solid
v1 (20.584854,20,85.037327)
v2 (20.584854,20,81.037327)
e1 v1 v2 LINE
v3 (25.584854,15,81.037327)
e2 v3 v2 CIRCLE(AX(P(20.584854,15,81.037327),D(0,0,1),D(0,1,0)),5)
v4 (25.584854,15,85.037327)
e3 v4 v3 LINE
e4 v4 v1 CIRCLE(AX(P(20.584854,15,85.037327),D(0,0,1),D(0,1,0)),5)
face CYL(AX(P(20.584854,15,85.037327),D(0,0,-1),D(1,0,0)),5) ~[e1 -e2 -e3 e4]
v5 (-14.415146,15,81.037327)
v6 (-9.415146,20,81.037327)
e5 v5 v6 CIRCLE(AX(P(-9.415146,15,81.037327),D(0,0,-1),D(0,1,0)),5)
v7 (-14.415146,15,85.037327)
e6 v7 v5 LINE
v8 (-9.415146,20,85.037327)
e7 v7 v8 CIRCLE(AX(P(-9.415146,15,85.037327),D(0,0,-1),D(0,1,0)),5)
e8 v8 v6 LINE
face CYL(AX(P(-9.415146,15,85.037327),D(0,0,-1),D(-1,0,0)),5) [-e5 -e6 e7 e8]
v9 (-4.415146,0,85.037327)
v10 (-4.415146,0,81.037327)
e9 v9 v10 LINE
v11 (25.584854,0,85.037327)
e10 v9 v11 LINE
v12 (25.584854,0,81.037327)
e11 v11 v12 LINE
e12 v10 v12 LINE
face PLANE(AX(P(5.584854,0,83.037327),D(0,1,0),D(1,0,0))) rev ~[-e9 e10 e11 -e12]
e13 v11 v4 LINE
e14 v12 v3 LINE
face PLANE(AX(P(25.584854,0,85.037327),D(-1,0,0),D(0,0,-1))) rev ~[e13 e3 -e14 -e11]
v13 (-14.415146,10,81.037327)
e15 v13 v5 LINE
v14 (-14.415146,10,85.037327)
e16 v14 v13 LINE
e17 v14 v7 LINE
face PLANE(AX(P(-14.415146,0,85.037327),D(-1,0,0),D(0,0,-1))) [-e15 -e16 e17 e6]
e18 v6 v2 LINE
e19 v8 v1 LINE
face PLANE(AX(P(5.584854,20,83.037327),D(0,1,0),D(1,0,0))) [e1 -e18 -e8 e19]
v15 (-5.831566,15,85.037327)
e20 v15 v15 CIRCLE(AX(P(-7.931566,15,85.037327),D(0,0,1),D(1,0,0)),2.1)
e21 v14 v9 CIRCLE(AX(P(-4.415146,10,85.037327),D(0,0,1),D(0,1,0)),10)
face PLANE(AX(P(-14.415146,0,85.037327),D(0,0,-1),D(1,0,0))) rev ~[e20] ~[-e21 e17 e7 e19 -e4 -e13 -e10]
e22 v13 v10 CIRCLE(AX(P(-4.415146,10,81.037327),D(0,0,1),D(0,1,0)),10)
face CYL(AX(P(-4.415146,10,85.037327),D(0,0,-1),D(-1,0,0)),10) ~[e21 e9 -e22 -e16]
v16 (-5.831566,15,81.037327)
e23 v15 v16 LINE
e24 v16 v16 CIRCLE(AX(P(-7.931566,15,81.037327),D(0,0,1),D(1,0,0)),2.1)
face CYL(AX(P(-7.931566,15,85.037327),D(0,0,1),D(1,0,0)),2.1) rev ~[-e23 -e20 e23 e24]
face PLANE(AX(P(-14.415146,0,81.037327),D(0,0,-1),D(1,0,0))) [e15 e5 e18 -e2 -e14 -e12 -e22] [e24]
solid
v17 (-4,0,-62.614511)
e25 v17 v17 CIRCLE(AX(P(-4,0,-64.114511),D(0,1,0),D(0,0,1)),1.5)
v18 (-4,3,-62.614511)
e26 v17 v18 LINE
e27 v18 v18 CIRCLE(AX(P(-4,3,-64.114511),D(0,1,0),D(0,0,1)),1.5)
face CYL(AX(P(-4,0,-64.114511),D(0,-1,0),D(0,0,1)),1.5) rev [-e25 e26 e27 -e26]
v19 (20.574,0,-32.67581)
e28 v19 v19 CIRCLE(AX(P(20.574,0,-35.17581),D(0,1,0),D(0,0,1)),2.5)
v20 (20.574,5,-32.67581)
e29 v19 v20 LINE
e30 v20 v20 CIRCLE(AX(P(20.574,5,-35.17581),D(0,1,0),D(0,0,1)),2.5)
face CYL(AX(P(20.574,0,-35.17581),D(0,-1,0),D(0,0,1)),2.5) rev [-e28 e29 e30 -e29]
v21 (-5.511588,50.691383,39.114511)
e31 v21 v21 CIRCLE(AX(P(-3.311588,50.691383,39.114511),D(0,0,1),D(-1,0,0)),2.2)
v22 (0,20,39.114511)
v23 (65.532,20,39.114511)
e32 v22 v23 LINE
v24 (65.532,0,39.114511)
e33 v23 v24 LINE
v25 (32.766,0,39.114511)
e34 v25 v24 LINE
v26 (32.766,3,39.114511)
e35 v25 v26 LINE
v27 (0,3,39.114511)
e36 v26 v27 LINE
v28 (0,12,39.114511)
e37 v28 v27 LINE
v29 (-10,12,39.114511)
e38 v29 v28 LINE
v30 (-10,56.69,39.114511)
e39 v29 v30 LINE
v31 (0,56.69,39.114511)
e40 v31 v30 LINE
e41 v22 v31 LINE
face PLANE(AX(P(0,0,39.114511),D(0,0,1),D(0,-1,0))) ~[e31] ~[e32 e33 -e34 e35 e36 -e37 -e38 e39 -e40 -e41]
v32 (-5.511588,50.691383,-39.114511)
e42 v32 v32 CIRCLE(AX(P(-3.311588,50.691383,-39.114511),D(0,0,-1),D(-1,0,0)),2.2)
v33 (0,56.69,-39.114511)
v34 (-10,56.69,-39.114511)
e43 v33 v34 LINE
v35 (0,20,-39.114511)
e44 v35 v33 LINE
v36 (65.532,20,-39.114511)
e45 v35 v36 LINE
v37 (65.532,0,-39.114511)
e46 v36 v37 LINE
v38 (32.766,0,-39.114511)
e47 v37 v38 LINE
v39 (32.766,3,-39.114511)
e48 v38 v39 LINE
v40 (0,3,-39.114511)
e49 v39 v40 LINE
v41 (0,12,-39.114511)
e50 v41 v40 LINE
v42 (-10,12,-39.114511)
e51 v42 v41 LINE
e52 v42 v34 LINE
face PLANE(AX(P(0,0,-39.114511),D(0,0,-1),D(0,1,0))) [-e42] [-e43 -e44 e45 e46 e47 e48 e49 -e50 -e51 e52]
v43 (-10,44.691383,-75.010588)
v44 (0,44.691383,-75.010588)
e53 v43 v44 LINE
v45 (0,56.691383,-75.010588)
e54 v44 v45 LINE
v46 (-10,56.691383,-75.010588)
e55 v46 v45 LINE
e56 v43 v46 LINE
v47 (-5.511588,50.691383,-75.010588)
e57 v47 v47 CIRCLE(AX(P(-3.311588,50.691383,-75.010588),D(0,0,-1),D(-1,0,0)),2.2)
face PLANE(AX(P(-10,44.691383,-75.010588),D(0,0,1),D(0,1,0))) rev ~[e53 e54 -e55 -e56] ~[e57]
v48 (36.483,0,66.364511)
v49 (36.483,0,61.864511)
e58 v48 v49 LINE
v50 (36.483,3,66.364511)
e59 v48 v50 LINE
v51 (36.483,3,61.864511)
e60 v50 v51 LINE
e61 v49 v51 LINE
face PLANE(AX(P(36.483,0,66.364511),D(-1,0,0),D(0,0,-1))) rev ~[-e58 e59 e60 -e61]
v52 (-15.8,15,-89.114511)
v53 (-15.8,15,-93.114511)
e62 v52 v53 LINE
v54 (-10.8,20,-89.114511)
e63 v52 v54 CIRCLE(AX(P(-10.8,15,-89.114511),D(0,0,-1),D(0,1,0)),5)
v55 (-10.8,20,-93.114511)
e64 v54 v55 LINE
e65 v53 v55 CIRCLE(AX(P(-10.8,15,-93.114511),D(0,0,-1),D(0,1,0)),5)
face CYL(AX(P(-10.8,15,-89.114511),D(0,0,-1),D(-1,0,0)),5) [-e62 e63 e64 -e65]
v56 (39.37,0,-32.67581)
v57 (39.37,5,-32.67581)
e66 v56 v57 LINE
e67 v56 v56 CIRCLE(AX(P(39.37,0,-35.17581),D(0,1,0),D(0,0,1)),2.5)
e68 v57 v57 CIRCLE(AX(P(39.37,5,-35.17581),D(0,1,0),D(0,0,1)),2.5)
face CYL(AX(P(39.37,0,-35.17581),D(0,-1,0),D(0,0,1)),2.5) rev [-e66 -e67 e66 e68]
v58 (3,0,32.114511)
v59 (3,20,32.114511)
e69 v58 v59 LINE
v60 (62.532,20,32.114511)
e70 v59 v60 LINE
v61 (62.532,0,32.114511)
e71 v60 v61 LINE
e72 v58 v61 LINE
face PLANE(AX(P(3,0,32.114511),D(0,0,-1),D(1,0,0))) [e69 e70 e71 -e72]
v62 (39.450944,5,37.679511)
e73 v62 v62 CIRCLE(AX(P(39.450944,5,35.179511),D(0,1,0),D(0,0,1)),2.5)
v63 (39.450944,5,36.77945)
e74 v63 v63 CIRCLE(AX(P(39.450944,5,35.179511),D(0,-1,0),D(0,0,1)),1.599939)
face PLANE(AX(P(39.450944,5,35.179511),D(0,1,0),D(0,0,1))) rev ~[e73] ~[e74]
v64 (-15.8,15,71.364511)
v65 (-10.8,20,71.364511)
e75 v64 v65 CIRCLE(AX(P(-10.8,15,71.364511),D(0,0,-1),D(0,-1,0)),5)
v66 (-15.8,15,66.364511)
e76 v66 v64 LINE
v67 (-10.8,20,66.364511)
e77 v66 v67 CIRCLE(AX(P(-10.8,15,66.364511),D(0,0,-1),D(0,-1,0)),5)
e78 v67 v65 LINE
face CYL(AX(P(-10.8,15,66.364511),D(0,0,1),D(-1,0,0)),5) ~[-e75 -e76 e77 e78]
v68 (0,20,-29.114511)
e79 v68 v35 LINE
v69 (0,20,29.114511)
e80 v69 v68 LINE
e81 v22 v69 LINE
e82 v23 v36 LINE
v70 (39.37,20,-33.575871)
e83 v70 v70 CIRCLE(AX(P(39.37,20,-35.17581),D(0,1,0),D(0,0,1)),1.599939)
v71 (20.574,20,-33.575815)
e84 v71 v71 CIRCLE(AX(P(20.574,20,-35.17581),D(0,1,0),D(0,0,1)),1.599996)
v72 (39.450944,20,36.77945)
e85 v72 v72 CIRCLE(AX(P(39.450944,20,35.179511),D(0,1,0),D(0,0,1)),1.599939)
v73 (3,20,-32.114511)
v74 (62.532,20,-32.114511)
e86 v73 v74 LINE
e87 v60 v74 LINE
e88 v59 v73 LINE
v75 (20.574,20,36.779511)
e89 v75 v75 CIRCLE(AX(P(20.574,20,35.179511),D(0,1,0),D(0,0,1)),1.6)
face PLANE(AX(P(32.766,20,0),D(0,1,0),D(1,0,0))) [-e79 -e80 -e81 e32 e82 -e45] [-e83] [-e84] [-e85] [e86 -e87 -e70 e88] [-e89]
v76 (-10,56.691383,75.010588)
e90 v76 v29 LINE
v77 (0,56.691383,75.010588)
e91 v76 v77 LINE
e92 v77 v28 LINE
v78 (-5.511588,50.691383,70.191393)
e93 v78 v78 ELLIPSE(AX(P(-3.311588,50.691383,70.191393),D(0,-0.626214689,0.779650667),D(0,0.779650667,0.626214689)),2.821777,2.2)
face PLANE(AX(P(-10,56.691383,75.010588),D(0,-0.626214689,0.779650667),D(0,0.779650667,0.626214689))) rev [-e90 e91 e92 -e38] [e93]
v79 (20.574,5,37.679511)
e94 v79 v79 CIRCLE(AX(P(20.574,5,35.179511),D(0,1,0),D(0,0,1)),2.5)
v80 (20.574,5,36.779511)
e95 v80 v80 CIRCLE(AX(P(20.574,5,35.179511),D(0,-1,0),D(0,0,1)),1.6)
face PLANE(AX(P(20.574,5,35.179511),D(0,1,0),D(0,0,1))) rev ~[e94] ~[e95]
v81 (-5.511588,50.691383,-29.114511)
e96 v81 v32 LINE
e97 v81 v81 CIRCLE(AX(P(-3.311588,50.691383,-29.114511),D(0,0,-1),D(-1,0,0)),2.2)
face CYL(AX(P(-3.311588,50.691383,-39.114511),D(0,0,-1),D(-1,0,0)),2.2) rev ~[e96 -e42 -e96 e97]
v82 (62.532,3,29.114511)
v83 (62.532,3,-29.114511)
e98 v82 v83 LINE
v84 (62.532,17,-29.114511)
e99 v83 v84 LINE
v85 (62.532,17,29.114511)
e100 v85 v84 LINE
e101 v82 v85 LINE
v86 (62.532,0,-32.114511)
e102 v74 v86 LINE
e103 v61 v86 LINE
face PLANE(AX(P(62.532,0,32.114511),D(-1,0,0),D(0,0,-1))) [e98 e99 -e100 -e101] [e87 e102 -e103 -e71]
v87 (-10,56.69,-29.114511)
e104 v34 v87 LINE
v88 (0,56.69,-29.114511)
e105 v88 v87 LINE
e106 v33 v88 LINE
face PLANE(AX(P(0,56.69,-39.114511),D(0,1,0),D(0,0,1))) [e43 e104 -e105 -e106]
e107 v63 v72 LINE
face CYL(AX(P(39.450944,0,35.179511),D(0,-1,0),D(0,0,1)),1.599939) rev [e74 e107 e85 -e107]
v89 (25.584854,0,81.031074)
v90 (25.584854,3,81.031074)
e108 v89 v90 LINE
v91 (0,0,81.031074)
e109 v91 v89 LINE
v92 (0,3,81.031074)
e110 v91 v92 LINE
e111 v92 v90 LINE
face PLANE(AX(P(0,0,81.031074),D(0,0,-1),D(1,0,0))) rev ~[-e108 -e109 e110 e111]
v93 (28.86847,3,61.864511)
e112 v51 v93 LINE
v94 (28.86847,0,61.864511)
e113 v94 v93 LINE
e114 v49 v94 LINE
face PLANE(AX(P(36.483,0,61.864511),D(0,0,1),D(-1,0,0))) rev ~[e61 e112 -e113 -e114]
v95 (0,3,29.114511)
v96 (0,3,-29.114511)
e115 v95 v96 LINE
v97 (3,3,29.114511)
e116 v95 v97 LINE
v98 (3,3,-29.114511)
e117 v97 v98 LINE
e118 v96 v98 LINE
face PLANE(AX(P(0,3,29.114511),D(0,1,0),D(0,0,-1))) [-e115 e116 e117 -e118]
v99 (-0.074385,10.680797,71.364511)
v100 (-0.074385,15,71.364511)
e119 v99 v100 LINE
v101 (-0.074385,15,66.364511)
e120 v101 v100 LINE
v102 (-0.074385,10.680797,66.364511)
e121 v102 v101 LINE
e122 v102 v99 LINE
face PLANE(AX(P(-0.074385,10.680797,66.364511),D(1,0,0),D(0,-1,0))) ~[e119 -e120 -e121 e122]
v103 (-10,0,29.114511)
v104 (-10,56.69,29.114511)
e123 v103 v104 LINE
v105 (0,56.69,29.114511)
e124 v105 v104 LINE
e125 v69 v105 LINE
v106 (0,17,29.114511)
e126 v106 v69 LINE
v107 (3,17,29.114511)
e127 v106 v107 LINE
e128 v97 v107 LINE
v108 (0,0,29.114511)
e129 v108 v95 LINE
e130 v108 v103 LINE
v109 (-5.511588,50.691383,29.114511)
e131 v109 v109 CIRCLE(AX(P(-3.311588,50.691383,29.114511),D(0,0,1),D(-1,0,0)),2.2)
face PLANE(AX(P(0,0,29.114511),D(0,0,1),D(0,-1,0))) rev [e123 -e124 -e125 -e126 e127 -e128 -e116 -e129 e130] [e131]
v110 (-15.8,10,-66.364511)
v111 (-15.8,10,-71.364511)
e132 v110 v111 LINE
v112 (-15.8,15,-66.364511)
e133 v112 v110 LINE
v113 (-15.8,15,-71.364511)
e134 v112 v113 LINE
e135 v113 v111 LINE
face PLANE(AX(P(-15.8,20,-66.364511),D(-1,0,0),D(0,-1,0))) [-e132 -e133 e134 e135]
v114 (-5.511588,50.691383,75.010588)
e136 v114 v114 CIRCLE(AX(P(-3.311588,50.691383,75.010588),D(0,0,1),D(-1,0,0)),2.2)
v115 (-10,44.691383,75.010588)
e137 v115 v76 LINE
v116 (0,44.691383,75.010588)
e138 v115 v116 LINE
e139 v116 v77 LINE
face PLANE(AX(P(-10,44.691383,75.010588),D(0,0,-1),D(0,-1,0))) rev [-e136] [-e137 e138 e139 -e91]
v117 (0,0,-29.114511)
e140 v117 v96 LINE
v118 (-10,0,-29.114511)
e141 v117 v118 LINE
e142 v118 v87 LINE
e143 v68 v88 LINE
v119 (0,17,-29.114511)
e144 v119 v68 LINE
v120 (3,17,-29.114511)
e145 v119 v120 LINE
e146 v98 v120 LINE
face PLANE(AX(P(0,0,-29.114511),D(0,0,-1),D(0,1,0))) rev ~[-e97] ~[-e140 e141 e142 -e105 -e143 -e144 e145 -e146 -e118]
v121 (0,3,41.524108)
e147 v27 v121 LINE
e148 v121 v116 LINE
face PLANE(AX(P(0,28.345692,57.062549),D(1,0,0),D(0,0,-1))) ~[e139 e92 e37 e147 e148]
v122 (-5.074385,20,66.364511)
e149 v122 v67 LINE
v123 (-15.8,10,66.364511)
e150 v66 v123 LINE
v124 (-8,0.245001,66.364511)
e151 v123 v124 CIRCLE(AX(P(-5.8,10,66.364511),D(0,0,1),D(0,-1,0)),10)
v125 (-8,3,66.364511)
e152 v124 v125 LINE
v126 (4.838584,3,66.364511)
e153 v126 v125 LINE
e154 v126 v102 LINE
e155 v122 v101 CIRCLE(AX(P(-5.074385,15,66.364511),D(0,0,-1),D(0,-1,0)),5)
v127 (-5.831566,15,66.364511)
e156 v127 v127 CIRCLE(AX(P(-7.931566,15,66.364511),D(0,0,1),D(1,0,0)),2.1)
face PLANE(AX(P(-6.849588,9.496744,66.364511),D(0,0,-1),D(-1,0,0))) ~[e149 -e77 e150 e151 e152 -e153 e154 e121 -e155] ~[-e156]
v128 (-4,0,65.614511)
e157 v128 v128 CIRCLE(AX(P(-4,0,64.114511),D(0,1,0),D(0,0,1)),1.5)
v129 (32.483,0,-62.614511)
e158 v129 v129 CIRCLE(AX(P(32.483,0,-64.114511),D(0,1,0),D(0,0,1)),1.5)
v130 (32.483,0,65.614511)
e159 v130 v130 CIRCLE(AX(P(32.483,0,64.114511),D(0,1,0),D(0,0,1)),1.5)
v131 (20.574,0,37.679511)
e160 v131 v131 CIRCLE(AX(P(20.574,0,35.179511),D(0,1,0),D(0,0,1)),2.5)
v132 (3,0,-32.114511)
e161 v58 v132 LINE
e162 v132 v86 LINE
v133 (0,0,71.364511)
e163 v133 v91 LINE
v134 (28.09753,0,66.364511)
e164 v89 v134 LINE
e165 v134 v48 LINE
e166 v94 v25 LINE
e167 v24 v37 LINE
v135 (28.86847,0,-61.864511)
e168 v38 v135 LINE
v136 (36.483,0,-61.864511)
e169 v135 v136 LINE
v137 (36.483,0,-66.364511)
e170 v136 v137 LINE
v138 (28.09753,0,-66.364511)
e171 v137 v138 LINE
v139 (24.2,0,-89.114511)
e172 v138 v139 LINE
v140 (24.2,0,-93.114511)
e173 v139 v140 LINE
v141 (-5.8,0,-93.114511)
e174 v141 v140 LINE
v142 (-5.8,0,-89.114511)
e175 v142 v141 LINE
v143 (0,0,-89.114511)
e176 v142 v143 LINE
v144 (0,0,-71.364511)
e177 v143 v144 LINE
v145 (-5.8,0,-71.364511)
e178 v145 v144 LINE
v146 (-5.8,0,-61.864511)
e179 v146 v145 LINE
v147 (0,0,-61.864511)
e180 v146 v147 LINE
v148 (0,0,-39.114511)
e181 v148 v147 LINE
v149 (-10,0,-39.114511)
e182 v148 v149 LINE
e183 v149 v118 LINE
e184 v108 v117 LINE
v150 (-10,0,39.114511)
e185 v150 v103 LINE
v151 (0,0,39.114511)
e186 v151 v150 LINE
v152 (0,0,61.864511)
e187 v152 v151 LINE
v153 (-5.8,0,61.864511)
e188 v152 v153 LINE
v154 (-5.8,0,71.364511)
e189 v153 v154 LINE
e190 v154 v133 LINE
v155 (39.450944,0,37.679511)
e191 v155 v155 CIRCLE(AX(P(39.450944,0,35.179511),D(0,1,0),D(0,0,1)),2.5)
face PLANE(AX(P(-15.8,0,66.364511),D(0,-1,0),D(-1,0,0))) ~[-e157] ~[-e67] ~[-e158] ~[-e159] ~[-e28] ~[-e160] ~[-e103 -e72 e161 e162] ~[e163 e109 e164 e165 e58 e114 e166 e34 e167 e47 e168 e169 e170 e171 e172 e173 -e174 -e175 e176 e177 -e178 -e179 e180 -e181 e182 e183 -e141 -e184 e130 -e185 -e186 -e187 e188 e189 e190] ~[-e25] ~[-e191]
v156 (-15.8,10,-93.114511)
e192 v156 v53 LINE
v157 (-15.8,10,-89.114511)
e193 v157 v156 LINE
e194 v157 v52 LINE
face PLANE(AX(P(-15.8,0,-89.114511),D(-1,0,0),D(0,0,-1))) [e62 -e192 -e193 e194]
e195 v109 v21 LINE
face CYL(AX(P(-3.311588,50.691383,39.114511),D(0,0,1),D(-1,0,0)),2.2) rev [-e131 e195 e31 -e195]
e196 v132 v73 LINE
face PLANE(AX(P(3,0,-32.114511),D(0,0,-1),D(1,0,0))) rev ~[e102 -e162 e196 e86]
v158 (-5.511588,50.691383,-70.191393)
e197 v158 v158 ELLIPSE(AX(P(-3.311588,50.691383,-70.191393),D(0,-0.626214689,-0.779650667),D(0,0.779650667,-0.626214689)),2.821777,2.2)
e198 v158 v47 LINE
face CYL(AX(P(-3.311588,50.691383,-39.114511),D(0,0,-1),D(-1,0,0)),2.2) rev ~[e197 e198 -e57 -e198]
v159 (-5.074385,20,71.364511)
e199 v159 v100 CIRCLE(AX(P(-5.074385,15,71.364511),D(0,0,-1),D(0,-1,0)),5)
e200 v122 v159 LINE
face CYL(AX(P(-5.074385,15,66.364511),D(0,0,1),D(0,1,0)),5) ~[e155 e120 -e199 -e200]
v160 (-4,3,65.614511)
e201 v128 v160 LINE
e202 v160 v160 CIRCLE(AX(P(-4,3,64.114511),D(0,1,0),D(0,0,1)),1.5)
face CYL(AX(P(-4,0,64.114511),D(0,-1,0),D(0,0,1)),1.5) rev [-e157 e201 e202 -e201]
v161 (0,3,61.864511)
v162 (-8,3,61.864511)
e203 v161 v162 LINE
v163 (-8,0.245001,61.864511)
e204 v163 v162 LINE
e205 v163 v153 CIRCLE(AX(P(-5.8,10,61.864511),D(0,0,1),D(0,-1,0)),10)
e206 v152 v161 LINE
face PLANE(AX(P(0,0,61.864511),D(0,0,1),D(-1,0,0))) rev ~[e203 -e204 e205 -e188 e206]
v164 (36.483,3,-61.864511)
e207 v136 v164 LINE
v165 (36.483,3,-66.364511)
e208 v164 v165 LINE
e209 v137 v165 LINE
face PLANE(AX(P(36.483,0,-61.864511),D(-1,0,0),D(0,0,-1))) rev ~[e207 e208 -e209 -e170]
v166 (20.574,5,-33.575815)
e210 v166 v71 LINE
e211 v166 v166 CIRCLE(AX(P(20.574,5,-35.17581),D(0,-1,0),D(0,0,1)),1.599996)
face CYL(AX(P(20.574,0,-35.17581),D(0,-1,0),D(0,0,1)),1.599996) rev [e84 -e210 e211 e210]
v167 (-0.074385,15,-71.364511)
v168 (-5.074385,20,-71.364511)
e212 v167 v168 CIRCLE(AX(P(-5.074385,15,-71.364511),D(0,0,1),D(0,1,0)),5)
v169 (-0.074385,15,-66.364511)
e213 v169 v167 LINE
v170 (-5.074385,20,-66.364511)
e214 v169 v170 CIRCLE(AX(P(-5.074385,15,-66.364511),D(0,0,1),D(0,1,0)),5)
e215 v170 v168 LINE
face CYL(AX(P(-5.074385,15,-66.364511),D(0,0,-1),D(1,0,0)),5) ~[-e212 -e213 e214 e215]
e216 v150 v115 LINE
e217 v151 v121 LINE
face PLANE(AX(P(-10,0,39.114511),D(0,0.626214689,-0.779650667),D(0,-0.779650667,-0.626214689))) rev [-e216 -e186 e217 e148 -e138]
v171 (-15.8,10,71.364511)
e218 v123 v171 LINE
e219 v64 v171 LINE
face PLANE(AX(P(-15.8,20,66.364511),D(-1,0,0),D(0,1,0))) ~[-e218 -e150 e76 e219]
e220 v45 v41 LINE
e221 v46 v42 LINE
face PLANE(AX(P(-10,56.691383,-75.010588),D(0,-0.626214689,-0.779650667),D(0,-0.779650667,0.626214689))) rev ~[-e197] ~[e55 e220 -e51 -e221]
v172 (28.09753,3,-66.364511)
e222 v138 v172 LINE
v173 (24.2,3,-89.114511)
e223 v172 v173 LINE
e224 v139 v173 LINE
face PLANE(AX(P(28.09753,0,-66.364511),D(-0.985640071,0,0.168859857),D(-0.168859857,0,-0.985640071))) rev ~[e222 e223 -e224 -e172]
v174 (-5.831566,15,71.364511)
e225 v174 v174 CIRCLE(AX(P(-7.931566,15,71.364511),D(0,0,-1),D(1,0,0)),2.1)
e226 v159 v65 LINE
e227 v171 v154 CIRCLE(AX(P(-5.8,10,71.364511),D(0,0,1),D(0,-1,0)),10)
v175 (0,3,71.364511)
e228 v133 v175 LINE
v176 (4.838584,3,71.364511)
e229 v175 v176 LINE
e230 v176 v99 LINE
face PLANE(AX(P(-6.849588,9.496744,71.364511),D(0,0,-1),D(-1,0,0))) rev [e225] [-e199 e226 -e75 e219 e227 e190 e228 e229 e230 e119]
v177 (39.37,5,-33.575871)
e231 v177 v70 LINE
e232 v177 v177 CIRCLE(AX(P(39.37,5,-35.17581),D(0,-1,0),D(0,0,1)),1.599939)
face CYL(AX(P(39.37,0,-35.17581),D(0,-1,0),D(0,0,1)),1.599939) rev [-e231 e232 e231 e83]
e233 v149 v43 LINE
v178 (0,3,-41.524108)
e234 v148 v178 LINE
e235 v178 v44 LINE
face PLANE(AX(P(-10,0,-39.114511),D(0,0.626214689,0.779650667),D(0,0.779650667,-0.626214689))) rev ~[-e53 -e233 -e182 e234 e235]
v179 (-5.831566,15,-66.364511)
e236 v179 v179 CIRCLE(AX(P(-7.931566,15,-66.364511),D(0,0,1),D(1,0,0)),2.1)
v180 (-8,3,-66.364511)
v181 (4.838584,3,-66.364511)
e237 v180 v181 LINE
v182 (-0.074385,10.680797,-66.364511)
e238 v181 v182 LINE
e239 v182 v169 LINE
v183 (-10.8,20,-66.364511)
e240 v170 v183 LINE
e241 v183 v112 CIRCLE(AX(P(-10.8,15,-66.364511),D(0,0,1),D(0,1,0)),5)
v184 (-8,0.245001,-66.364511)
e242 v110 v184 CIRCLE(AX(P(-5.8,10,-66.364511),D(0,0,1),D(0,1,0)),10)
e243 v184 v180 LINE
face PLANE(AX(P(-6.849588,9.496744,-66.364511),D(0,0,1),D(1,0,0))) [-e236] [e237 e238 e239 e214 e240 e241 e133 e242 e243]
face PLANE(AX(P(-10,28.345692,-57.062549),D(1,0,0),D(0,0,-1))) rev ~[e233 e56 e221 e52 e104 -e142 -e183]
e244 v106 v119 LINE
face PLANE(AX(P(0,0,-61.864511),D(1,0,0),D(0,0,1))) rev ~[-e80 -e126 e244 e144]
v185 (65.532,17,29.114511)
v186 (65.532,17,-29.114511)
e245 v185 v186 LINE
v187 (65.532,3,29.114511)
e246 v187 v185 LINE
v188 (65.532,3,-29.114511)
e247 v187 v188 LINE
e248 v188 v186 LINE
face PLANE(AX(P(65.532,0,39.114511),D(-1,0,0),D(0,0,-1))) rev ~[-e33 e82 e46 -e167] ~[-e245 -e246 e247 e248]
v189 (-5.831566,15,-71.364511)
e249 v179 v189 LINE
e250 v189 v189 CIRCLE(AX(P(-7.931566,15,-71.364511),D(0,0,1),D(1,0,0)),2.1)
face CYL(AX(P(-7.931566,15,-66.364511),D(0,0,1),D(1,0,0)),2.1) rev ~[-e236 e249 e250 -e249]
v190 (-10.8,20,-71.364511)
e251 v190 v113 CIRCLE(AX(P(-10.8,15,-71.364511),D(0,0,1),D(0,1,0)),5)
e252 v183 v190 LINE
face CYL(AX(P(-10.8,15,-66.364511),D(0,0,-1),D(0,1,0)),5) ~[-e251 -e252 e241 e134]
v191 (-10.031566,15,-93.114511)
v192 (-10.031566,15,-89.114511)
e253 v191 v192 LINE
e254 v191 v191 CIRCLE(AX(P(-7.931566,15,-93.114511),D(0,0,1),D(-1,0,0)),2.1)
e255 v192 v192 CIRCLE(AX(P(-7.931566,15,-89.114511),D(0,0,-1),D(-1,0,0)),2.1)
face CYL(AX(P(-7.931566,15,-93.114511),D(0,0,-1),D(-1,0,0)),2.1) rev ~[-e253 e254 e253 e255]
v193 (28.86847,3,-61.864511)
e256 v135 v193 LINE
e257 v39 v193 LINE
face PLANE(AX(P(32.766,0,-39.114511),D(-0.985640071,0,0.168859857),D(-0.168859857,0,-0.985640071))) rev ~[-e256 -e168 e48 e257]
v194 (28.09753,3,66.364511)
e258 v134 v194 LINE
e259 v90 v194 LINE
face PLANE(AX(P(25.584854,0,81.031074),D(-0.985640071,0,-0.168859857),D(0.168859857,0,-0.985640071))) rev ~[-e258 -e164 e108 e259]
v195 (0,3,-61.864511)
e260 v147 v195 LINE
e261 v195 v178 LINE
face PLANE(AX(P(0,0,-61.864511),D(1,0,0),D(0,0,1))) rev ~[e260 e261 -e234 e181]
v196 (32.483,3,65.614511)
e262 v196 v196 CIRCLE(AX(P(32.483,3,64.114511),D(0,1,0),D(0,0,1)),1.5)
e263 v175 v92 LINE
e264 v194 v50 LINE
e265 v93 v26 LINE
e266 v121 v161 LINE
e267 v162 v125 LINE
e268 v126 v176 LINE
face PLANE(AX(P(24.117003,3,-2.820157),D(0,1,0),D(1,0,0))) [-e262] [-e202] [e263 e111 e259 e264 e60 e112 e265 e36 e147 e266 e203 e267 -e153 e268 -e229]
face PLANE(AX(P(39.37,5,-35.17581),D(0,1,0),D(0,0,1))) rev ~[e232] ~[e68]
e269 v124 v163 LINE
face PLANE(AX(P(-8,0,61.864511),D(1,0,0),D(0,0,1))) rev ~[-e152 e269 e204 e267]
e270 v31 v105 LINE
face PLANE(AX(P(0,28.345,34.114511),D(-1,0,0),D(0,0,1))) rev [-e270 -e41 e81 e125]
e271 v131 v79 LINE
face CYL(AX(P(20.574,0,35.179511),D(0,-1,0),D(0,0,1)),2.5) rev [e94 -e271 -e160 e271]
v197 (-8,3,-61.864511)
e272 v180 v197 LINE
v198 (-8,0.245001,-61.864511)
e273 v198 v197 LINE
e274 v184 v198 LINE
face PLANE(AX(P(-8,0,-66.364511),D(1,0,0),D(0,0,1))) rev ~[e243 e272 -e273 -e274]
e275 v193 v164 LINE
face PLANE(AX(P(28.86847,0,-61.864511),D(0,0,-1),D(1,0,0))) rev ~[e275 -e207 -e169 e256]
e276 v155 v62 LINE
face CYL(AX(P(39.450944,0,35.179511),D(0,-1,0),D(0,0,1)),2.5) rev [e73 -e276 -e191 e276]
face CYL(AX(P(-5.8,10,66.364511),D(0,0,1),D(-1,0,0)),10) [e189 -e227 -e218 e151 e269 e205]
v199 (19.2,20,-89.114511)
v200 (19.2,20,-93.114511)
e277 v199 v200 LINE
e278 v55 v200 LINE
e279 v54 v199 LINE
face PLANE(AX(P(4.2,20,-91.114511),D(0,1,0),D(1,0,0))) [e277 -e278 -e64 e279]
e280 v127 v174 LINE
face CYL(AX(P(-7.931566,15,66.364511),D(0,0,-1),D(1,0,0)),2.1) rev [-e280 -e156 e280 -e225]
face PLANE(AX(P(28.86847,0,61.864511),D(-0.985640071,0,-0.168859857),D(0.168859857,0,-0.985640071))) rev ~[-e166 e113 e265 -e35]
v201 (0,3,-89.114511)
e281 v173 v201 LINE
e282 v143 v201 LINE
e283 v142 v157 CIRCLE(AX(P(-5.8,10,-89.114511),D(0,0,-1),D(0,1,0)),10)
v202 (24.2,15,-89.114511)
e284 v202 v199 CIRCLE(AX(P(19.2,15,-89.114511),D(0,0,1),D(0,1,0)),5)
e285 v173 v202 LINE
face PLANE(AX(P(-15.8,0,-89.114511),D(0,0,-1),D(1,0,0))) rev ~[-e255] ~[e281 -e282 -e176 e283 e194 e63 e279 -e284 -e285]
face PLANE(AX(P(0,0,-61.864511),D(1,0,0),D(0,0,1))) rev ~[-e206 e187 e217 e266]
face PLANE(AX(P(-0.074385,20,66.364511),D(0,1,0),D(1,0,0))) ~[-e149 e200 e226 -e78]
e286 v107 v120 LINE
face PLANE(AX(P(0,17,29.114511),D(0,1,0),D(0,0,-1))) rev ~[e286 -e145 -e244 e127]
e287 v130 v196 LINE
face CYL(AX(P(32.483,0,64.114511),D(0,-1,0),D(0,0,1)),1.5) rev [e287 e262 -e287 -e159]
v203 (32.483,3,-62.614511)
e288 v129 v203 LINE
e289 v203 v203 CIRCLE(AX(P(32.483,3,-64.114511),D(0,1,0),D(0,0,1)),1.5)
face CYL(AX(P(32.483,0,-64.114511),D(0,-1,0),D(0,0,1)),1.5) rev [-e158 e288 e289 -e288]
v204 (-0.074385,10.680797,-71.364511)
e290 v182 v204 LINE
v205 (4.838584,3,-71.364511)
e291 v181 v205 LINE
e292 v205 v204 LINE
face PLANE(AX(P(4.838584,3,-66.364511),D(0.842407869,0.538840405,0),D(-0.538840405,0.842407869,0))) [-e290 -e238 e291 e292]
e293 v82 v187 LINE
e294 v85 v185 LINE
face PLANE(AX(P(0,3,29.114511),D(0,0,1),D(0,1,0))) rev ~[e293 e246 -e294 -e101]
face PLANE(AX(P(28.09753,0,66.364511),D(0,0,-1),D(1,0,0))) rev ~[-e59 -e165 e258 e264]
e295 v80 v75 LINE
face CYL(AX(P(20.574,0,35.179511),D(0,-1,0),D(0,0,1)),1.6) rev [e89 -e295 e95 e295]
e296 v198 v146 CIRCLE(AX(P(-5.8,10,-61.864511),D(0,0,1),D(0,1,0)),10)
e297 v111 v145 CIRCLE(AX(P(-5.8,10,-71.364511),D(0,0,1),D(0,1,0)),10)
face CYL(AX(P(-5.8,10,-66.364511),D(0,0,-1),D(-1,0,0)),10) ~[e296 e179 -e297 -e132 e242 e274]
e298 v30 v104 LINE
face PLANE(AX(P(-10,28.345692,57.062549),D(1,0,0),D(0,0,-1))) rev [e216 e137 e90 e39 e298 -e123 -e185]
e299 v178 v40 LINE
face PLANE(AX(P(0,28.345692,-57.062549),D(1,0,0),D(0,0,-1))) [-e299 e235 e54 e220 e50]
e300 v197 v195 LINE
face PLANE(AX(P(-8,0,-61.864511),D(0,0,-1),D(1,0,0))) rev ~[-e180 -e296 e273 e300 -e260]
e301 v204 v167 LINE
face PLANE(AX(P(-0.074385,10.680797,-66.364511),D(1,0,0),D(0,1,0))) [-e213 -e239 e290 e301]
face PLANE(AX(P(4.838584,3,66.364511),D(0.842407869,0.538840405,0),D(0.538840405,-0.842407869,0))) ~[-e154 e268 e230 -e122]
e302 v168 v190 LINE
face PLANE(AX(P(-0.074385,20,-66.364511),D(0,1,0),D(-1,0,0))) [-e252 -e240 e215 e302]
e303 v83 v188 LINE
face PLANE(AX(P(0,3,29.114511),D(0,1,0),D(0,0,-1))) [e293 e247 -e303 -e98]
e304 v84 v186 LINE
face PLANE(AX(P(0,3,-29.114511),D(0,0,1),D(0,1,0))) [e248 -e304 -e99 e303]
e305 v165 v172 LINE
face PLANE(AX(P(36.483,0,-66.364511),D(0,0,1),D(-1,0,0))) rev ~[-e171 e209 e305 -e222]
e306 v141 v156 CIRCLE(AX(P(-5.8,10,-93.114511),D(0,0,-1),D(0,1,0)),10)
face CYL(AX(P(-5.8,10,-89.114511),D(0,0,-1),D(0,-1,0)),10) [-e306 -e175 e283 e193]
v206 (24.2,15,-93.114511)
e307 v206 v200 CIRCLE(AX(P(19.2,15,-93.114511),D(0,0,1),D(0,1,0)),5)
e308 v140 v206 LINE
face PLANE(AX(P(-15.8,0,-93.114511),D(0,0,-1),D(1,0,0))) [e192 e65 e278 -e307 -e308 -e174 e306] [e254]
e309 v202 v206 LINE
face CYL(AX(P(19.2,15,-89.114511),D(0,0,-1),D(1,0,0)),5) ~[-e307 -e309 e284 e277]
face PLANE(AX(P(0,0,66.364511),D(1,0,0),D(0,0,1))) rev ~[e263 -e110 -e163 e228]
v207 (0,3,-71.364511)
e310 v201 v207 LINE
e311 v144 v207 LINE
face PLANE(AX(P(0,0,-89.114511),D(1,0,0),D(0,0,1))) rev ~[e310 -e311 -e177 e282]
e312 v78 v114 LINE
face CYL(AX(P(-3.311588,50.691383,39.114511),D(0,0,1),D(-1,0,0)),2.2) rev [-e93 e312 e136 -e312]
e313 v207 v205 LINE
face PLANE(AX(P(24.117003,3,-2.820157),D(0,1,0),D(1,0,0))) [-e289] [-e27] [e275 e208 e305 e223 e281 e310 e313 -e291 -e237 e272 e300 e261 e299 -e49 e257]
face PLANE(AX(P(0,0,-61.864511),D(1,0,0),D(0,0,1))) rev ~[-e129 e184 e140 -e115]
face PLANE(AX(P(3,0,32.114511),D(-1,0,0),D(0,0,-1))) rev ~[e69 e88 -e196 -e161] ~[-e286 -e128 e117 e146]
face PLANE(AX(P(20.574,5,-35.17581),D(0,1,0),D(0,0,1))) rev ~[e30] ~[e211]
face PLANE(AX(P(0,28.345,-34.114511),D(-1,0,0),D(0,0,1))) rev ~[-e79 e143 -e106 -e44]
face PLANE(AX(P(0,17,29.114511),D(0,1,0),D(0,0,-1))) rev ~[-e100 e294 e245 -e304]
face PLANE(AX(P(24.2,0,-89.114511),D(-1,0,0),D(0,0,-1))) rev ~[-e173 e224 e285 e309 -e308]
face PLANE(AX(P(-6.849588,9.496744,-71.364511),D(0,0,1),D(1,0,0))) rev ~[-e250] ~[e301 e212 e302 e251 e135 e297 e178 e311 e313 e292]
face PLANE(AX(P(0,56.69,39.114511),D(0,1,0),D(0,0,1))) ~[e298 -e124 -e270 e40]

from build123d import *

# Parameters (mm, degrees)
SKETCH1_R            = 1.6
SKETCH1_R_2          = 1.599939077
SKETCH1_W            = 59.532
SKETCH1_H            = 64.229021166
SKETCH1_R_3          = 1.599995589
SKETCH1_R_4          = 1.5
BOSS_EXTRUDE1_DEPTH  = 3
SKETCH2_W            = 40
SKETCH2_H            = 4
BOSS_EXTRUDE2_DEPTH  = 20
FILLET2_R            = 5
FILLET3_R            = 10
SKETCH1_8_W          = 65.532
SKETCH1_8_H          = 78.229021166
SKETCH1_8_R          = 1.599939077
SKETCH1_8_R_2        = 1.6
SKETCH1_8_R_3        = 1.599995589
SKETCH1_8_W_2        = 59.532
SKETCH1_8_H_2        = 64.229021166
BOSS_EXTRUDE3_DEPTH  = 20
SKETCH5_R            = 2.5
CUT_EXTRUDE2_DEPTH   = 5
SKETCH7_W            = 58.229021166
SKETCH7_H            = 14
CUT_EXTRUDE3_DEPTH   = 116.606034034
SKETCH8_R            = 2.1
CUT_EXTRUDE4_DEPTH   = 211
FILLET4_R            = 10
FILLET5_R            = 5
SKETCH9_W            = 10
SKETCH9_H            = 56.69
BOSS_EXTRUDE4_DEPTH  = 10
BOSS_EXTRUDE5_DEPTH  = 10
BOSS_EXTRUDE6_DEPTH  = 5
FILLET6_R            = 5
FILLET7_R            = 10
SKETCH10_R           = 2.2
CUT_EXTRUDE5_DEPTH   = 152.400246686
SKETCH13_R           = 2.1
CUT_EXTRUDE6_DEPTH   = 199.107125443
SKETCH17_R           = 2.1
CUT_EXTRUDE7_DEPTH   = 175.444467791
FILLET6_OF_MIRROR1_R = 5
FILLET7_OF_MIRROR1_R = 10


with BuildPart() as part:
    # Sketch1 → Boss-Extrude1 (new body)
    with BuildSketch(Plane(origin=(0, 0, 0), x_dir=(1, 0, 0), z_dir=(0, 1, 0))):
        Polygon((65.532, 39.114510583), (32.766, 39.114510583), (28.86847, 61.864510583), (36.483, 61.864510583), (36.483, 66.364510583), (28.09753, 66.364510583), (24.2, 89.114510583), (0, 89.114510583), (0, 66.364510583), (-8, 66.364510583), (-8, 61.864510583), (0, 61.864510583), (0, -61.864510583), (-8, -61.864510583), (-8, -66.364510583), (0, -66.364510583), (0, -81.031073521), (25.584854437, -81.031073521), (28.09753, -66.364510583), (36.483, -66.364510583), (36.483, -61.864510583), (28.86847, -61.864510583), (32.766, -39.114510583), (65.532, -39.114510583), align=None)
        with Locations(Location((20.574, -35.179510583, 0), (0, 0, 270))):
            Circle(SKETCH1_R, mode=Mode.SUBTRACT)
        with Locations(Location((39.450944, -35.179510583, 0), (0, 0, 270))):
            Circle(SKETCH1_R_2, mode=Mode.SUBTRACT)
        with Locations((32.766, 0)):
            Rectangle(SKETCH1_W, SKETCH1_H, mode=Mode.SUBTRACT)
        with Locations(Location((20.574, 35.1758104, 0), (0, 0, 270))):
            Circle(SKETCH1_R_3, mode=Mode.SUBTRACT)
        with Locations(Location((39.37, 35.1758104, 0), (0, 0, 270))):
            Circle(SKETCH1_R_2, mode=Mode.SUBTRACT)
        with Locations(Location((-4, 64.114510583, 0), (0, 0, 270))):
            Circle(SKETCH1_R_4, mode=Mode.SUBTRACT)
        with Locations(Location((-4, -64.114510583, 0), (0, 0, 270))):
            Circle(SKETCH1_R_4, mode=Mode.SUBTRACT)
        with Locations(Location((32.483, 64.114510583, 0), (0, 0, 270))):
            Circle(SKETCH1_R_4, mode=Mode.SUBTRACT)
        with Locations(Location((32.483, -64.114510583, 0), (0, 0, 270))):
            Circle(SKETCH1_R_4, mode=Mode.SUBTRACT)
    extrude(amount=BOSS_EXTRUDE1_DEPTH)

    # Sketch2 → Boss-Extrude2 (add)
    with BuildSketch(Plane(origin=(0, 0, 0), x_dir=(1, 0, 0), z_dir=(0, 1, 0))):
        with Locations((5.584854437, -83.037326961)):
            Rectangle(SKETCH2_W, SKETCH2_H)
        with Locations((4.2, 91.114510583)):
            Rectangle(SKETCH2_W, SKETCH2_H)
    extrude(amount=BOSS_EXTRUDE2_DEPTH)


with BuildPart() as boss_extrude2_piece_1:
    # of the separate pieces the step leaves, piece 1, a body of its own (boss_extrude2_pieces)
    add(part.part.solids().sort_by_distance((65.532, 0, -39.114510583))[0])

    # Sketch1<8> → Boss-Extrude3 (add)
    with BuildSketch(Plane(origin=(0, 0, 0), x_dir=(1, 0, 0), z_dir=(0, 1, 0))):
        with Locations((32.766, 0)):
            Rectangle(SKETCH1_8_W, SKETCH1_8_H)
        with Locations(Location((39.450944, -35.179510583, 0), (0, 0, 270))):
            Circle(SKETCH1_8_R, mode=Mode.SUBTRACT)
        with Locations(Location((20.574, -35.179510583, 0), (0, 0, 270))):
            Circle(SKETCH1_8_R_2, mode=Mode.SUBTRACT)
        with Locations(Location((39.37, 35.1758104, 0), (0, 0, 270))):
            Circle(SKETCH1_8_R, mode=Mode.SUBTRACT)
        with Locations(Location((20.574, 35.1758104, 0), (0, 0, 270))):
            Circle(SKETCH1_8_R_3, mode=Mode.SUBTRACT)
        with Locations((32.766, 0)):
            Rectangle(SKETCH1_8_W_2, SKETCH1_8_H_2, mode=Mode.SUBTRACT)
    extrude(amount=BOSS_EXTRUDE3_DEPTH)

    # Sketch5 → Cut-Extrude2 (cut)
    with BuildSketch(Plane(origin=(0, 0, 0), x_dir=(1, 0, 0), z_dir=(0, 1, 0))):
        with Locations(Location((20.574, -35.179510583, 0), (0, 0, 270))):
            Circle(SKETCH5_R)
        with Locations(Location((39.450944, -35.179510583, 0), (0, 0, 270))):
            Circle(SKETCH5_R)
        with Locations(Location((20.574, 35.1758104, 0), (0, 0, 270))):
            Circle(SKETCH5_R)
        with Locations(Location((39.37, 35.1758104, 0), (0, 0, 270))):
            Circle(SKETCH5_R)
    extrude(amount=CUT_EXTRUDE2_DEPTH, mode=Mode.SUBTRACT)

    # Sketch7 → Cut-Extrude3 (cut, through all)
    with BuildSketch(Plane(origin=(0, 0, 0), x_dir=(0, 0, -1), z_dir=(1, 0, 0))):
        with Locations((0, 10)):
            Rectangle(SKETCH7_W, SKETCH7_H)
    extrude(amount=CUT_EXTRUDE3_DEPTH, mode=Mode.SUBTRACT)

    # Sketch8 → Cut-Extrude4 (cut)
    with BuildSketch(Plane(origin=(0, 0, -93.114510583), x_dir=(-1, 0, 0), z_dir=(0, 0, -1))):
        with Locations((7.931565672, 15)):
            Circle(SKETCH8_R)
    extrude(amount=-CUT_EXTRUDE4_DEPTH, mode=Mode.SUBTRACT)

    # Fillet4
    fillet4_edges = [boss_extrude2_piece_1.edges().sort_by_distance(p)[0] for p in [
        (-15.8, 0, -91.114510583),
    ]]
    fillet(fillet4_edges, radius=FILLET4_R)

    # Fillet5
    fillet5_edges = [boss_extrude2_piece_1.edges().sort_by_distance(p)[0] for p in [
        (24.2, 20, -91.114510583),
        (-15.8, 20, -91.114510583),
    ]]
    fillet(fillet5_edges, radius=FILLET5_R)

    # Sketch9 → Boss-Extrude4 (add)
    with BuildSketch(Plane.ZY):
        with Locations((-34.114510583, 28.345)):
            Rectangle(SKETCH9_W, SKETCH9_H)
    boss_extrude4 = extrude(amount=BOSS_EXTRUDE4_DEPTH)

    # Sketch11 → Boss-Extrude5 (add)
    with BuildSketch(Plane.ZY.offset(10)):
        Polygon((-39.114510583, 0), (-75.010587766, 44.691383006), (-75.010587766, 56.691383006), (-39.114510583, 12), align=None)
    boss_extrude5 = extrude(amount=-BOSS_EXTRUDE5_DEPTH)

    # Sketch15 → Boss-Extrude6 (add)
    with BuildSketch(Plane(origin=(0, 0, -66.364510583), x_dir=(-1, 0, 0), z_dir=(0, 0, -1))):
        Polygon((15.8, 0), (0, 0), (0, 3), (-4.838584017, 3), (0.074385319, 10.680797484), (0.074385319, 20), (15.8, 20), align=None)
    boss_extrude6 = extrude(amount=BOSS_EXTRUDE6_DEPTH)

    # Fillet6
    fillet6_edges = [boss_extrude2_piece_1.edges().sort_by_distance(p)[0] for p in [
        (-15.8, 20, -68.864510583),
        (-0.074385319, 20, -68.864510583),
    ]]
    fillet(fillet6_edges, radius=FILLET6_R)

    # Fillet7
    fillet7_edges = [boss_extrude2_piece_1.edges().sort_by_distance(p)[0] for p in [
        (-15.8, 0, -68.864510583),
    ]]
    fillet(fillet7_edges, radius=FILLET7_R)

    # Sketch10 → Cut-Extrude5 (cut, symmetric)
    with BuildSketch(Plane(origin=(0, 0, -39.114510583), x_dir=(-1, 0, 0), z_dir=(0, 0, -1))):
        with Locations((3.311588347, 50.691383006)):
            Circle(SKETCH10_R)
    cut_extrude5 = extrude(amount=CUT_EXTRUDE5_DEPTH, both=True, mode=Mode.SUBTRACT)

    # Sketch17 → Cut-Extrude7 (cut, through all)
    with BuildSketch(Plane.XY.offset(-66.364510583)):
        with Locations((-7.931565672, 15)):
            Circle(SKETCH17_R)
    cut_extrude7 = extrude(amount=-CUT_EXTRUDE7_DEPTH, mode=Mode.SUBTRACT)

    # Mirror1: Boss-Extrude4, Boss-Extrude5, Boss-Extrude6 across plane
    add(boss_extrude4.mirror(Plane.XY))
    add(boss_extrude5.mirror(Plane.XY))
    add(boss_extrude6.mirror(Plane.XY))

    # Mirror1 2: Cut-Extrude5, Cut-Extrude7 across plane
    add(cut_extrude5.mirror(Plane.XY), mode=Mode.SUBTRACT)
    add(cut_extrude7.mirror(Plane.XY), mode=Mode.SUBTRACT)

    # Fillet6 of Mirror1
    fillet6_of_mirror1_edges = [boss_extrude2_piece_1.edges().sort_by_distance(p)[0] for p in [
        (-15.8, 20, 68.864510583),
        (-0.074385319, 20, 68.864510583),
    ]]
    fillet(fillet6_of_mirror1_edges, radius=FILLET6_OF_MIRROR1_R)

    # Fillet7 of Mirror1
    fillet7_of_mirror1_edges = [boss_extrude2_piece_1.edges().sort_by_distance(p)[0] for p in [
        (-15.8, 0, 68.864510583),
    ]]
    fillet(fillet7_of_mirror1_edges, radius=FILLET7_OF_MIRROR1_R)


with BuildPart() as boss_extrude2_piece_2:
    # of the separate pieces the step leaves, piece 2, a body of its own (boss_extrude2_pieces)
    add(part.part.solids().sort_by_distance((25.584854437, 0, 81.037326961))[0])

    # Fillet2
    fillet2_edges = [boss_extrude2_piece_2.edges().sort_by_distance(p)[0] for p in [
        (25.584854437, 20, 83.037326961),
        (-14.415145563, 20, 83.037326961),
    ]]
    fillet(fillet2_edges, radius=FILLET2_R)

    # Fillet3
    fillet3_edges = [boss_extrude2_piece_2.edges().sort_by_distance(p)[0] for p in [
        (-14.415145563, 0, 83.037326961),
    ]]
    fillet(fillet3_edges, radius=FILLET3_R)

    # Sketch13 → Cut-Extrude6 (cut, through all)
    with BuildSketch(Plane.XY.offset(85.037326961)):
        with Locations((-7.931565672, 15)):
            Circle(SKETCH13_R)
    extrude(amount=-CUT_EXTRUDE6_DEPTH, mode=Mode.SUBTRACT)


solid = Compound([boss_extrude2_piece_1.part, boss_extrude2_piece_2.part])
